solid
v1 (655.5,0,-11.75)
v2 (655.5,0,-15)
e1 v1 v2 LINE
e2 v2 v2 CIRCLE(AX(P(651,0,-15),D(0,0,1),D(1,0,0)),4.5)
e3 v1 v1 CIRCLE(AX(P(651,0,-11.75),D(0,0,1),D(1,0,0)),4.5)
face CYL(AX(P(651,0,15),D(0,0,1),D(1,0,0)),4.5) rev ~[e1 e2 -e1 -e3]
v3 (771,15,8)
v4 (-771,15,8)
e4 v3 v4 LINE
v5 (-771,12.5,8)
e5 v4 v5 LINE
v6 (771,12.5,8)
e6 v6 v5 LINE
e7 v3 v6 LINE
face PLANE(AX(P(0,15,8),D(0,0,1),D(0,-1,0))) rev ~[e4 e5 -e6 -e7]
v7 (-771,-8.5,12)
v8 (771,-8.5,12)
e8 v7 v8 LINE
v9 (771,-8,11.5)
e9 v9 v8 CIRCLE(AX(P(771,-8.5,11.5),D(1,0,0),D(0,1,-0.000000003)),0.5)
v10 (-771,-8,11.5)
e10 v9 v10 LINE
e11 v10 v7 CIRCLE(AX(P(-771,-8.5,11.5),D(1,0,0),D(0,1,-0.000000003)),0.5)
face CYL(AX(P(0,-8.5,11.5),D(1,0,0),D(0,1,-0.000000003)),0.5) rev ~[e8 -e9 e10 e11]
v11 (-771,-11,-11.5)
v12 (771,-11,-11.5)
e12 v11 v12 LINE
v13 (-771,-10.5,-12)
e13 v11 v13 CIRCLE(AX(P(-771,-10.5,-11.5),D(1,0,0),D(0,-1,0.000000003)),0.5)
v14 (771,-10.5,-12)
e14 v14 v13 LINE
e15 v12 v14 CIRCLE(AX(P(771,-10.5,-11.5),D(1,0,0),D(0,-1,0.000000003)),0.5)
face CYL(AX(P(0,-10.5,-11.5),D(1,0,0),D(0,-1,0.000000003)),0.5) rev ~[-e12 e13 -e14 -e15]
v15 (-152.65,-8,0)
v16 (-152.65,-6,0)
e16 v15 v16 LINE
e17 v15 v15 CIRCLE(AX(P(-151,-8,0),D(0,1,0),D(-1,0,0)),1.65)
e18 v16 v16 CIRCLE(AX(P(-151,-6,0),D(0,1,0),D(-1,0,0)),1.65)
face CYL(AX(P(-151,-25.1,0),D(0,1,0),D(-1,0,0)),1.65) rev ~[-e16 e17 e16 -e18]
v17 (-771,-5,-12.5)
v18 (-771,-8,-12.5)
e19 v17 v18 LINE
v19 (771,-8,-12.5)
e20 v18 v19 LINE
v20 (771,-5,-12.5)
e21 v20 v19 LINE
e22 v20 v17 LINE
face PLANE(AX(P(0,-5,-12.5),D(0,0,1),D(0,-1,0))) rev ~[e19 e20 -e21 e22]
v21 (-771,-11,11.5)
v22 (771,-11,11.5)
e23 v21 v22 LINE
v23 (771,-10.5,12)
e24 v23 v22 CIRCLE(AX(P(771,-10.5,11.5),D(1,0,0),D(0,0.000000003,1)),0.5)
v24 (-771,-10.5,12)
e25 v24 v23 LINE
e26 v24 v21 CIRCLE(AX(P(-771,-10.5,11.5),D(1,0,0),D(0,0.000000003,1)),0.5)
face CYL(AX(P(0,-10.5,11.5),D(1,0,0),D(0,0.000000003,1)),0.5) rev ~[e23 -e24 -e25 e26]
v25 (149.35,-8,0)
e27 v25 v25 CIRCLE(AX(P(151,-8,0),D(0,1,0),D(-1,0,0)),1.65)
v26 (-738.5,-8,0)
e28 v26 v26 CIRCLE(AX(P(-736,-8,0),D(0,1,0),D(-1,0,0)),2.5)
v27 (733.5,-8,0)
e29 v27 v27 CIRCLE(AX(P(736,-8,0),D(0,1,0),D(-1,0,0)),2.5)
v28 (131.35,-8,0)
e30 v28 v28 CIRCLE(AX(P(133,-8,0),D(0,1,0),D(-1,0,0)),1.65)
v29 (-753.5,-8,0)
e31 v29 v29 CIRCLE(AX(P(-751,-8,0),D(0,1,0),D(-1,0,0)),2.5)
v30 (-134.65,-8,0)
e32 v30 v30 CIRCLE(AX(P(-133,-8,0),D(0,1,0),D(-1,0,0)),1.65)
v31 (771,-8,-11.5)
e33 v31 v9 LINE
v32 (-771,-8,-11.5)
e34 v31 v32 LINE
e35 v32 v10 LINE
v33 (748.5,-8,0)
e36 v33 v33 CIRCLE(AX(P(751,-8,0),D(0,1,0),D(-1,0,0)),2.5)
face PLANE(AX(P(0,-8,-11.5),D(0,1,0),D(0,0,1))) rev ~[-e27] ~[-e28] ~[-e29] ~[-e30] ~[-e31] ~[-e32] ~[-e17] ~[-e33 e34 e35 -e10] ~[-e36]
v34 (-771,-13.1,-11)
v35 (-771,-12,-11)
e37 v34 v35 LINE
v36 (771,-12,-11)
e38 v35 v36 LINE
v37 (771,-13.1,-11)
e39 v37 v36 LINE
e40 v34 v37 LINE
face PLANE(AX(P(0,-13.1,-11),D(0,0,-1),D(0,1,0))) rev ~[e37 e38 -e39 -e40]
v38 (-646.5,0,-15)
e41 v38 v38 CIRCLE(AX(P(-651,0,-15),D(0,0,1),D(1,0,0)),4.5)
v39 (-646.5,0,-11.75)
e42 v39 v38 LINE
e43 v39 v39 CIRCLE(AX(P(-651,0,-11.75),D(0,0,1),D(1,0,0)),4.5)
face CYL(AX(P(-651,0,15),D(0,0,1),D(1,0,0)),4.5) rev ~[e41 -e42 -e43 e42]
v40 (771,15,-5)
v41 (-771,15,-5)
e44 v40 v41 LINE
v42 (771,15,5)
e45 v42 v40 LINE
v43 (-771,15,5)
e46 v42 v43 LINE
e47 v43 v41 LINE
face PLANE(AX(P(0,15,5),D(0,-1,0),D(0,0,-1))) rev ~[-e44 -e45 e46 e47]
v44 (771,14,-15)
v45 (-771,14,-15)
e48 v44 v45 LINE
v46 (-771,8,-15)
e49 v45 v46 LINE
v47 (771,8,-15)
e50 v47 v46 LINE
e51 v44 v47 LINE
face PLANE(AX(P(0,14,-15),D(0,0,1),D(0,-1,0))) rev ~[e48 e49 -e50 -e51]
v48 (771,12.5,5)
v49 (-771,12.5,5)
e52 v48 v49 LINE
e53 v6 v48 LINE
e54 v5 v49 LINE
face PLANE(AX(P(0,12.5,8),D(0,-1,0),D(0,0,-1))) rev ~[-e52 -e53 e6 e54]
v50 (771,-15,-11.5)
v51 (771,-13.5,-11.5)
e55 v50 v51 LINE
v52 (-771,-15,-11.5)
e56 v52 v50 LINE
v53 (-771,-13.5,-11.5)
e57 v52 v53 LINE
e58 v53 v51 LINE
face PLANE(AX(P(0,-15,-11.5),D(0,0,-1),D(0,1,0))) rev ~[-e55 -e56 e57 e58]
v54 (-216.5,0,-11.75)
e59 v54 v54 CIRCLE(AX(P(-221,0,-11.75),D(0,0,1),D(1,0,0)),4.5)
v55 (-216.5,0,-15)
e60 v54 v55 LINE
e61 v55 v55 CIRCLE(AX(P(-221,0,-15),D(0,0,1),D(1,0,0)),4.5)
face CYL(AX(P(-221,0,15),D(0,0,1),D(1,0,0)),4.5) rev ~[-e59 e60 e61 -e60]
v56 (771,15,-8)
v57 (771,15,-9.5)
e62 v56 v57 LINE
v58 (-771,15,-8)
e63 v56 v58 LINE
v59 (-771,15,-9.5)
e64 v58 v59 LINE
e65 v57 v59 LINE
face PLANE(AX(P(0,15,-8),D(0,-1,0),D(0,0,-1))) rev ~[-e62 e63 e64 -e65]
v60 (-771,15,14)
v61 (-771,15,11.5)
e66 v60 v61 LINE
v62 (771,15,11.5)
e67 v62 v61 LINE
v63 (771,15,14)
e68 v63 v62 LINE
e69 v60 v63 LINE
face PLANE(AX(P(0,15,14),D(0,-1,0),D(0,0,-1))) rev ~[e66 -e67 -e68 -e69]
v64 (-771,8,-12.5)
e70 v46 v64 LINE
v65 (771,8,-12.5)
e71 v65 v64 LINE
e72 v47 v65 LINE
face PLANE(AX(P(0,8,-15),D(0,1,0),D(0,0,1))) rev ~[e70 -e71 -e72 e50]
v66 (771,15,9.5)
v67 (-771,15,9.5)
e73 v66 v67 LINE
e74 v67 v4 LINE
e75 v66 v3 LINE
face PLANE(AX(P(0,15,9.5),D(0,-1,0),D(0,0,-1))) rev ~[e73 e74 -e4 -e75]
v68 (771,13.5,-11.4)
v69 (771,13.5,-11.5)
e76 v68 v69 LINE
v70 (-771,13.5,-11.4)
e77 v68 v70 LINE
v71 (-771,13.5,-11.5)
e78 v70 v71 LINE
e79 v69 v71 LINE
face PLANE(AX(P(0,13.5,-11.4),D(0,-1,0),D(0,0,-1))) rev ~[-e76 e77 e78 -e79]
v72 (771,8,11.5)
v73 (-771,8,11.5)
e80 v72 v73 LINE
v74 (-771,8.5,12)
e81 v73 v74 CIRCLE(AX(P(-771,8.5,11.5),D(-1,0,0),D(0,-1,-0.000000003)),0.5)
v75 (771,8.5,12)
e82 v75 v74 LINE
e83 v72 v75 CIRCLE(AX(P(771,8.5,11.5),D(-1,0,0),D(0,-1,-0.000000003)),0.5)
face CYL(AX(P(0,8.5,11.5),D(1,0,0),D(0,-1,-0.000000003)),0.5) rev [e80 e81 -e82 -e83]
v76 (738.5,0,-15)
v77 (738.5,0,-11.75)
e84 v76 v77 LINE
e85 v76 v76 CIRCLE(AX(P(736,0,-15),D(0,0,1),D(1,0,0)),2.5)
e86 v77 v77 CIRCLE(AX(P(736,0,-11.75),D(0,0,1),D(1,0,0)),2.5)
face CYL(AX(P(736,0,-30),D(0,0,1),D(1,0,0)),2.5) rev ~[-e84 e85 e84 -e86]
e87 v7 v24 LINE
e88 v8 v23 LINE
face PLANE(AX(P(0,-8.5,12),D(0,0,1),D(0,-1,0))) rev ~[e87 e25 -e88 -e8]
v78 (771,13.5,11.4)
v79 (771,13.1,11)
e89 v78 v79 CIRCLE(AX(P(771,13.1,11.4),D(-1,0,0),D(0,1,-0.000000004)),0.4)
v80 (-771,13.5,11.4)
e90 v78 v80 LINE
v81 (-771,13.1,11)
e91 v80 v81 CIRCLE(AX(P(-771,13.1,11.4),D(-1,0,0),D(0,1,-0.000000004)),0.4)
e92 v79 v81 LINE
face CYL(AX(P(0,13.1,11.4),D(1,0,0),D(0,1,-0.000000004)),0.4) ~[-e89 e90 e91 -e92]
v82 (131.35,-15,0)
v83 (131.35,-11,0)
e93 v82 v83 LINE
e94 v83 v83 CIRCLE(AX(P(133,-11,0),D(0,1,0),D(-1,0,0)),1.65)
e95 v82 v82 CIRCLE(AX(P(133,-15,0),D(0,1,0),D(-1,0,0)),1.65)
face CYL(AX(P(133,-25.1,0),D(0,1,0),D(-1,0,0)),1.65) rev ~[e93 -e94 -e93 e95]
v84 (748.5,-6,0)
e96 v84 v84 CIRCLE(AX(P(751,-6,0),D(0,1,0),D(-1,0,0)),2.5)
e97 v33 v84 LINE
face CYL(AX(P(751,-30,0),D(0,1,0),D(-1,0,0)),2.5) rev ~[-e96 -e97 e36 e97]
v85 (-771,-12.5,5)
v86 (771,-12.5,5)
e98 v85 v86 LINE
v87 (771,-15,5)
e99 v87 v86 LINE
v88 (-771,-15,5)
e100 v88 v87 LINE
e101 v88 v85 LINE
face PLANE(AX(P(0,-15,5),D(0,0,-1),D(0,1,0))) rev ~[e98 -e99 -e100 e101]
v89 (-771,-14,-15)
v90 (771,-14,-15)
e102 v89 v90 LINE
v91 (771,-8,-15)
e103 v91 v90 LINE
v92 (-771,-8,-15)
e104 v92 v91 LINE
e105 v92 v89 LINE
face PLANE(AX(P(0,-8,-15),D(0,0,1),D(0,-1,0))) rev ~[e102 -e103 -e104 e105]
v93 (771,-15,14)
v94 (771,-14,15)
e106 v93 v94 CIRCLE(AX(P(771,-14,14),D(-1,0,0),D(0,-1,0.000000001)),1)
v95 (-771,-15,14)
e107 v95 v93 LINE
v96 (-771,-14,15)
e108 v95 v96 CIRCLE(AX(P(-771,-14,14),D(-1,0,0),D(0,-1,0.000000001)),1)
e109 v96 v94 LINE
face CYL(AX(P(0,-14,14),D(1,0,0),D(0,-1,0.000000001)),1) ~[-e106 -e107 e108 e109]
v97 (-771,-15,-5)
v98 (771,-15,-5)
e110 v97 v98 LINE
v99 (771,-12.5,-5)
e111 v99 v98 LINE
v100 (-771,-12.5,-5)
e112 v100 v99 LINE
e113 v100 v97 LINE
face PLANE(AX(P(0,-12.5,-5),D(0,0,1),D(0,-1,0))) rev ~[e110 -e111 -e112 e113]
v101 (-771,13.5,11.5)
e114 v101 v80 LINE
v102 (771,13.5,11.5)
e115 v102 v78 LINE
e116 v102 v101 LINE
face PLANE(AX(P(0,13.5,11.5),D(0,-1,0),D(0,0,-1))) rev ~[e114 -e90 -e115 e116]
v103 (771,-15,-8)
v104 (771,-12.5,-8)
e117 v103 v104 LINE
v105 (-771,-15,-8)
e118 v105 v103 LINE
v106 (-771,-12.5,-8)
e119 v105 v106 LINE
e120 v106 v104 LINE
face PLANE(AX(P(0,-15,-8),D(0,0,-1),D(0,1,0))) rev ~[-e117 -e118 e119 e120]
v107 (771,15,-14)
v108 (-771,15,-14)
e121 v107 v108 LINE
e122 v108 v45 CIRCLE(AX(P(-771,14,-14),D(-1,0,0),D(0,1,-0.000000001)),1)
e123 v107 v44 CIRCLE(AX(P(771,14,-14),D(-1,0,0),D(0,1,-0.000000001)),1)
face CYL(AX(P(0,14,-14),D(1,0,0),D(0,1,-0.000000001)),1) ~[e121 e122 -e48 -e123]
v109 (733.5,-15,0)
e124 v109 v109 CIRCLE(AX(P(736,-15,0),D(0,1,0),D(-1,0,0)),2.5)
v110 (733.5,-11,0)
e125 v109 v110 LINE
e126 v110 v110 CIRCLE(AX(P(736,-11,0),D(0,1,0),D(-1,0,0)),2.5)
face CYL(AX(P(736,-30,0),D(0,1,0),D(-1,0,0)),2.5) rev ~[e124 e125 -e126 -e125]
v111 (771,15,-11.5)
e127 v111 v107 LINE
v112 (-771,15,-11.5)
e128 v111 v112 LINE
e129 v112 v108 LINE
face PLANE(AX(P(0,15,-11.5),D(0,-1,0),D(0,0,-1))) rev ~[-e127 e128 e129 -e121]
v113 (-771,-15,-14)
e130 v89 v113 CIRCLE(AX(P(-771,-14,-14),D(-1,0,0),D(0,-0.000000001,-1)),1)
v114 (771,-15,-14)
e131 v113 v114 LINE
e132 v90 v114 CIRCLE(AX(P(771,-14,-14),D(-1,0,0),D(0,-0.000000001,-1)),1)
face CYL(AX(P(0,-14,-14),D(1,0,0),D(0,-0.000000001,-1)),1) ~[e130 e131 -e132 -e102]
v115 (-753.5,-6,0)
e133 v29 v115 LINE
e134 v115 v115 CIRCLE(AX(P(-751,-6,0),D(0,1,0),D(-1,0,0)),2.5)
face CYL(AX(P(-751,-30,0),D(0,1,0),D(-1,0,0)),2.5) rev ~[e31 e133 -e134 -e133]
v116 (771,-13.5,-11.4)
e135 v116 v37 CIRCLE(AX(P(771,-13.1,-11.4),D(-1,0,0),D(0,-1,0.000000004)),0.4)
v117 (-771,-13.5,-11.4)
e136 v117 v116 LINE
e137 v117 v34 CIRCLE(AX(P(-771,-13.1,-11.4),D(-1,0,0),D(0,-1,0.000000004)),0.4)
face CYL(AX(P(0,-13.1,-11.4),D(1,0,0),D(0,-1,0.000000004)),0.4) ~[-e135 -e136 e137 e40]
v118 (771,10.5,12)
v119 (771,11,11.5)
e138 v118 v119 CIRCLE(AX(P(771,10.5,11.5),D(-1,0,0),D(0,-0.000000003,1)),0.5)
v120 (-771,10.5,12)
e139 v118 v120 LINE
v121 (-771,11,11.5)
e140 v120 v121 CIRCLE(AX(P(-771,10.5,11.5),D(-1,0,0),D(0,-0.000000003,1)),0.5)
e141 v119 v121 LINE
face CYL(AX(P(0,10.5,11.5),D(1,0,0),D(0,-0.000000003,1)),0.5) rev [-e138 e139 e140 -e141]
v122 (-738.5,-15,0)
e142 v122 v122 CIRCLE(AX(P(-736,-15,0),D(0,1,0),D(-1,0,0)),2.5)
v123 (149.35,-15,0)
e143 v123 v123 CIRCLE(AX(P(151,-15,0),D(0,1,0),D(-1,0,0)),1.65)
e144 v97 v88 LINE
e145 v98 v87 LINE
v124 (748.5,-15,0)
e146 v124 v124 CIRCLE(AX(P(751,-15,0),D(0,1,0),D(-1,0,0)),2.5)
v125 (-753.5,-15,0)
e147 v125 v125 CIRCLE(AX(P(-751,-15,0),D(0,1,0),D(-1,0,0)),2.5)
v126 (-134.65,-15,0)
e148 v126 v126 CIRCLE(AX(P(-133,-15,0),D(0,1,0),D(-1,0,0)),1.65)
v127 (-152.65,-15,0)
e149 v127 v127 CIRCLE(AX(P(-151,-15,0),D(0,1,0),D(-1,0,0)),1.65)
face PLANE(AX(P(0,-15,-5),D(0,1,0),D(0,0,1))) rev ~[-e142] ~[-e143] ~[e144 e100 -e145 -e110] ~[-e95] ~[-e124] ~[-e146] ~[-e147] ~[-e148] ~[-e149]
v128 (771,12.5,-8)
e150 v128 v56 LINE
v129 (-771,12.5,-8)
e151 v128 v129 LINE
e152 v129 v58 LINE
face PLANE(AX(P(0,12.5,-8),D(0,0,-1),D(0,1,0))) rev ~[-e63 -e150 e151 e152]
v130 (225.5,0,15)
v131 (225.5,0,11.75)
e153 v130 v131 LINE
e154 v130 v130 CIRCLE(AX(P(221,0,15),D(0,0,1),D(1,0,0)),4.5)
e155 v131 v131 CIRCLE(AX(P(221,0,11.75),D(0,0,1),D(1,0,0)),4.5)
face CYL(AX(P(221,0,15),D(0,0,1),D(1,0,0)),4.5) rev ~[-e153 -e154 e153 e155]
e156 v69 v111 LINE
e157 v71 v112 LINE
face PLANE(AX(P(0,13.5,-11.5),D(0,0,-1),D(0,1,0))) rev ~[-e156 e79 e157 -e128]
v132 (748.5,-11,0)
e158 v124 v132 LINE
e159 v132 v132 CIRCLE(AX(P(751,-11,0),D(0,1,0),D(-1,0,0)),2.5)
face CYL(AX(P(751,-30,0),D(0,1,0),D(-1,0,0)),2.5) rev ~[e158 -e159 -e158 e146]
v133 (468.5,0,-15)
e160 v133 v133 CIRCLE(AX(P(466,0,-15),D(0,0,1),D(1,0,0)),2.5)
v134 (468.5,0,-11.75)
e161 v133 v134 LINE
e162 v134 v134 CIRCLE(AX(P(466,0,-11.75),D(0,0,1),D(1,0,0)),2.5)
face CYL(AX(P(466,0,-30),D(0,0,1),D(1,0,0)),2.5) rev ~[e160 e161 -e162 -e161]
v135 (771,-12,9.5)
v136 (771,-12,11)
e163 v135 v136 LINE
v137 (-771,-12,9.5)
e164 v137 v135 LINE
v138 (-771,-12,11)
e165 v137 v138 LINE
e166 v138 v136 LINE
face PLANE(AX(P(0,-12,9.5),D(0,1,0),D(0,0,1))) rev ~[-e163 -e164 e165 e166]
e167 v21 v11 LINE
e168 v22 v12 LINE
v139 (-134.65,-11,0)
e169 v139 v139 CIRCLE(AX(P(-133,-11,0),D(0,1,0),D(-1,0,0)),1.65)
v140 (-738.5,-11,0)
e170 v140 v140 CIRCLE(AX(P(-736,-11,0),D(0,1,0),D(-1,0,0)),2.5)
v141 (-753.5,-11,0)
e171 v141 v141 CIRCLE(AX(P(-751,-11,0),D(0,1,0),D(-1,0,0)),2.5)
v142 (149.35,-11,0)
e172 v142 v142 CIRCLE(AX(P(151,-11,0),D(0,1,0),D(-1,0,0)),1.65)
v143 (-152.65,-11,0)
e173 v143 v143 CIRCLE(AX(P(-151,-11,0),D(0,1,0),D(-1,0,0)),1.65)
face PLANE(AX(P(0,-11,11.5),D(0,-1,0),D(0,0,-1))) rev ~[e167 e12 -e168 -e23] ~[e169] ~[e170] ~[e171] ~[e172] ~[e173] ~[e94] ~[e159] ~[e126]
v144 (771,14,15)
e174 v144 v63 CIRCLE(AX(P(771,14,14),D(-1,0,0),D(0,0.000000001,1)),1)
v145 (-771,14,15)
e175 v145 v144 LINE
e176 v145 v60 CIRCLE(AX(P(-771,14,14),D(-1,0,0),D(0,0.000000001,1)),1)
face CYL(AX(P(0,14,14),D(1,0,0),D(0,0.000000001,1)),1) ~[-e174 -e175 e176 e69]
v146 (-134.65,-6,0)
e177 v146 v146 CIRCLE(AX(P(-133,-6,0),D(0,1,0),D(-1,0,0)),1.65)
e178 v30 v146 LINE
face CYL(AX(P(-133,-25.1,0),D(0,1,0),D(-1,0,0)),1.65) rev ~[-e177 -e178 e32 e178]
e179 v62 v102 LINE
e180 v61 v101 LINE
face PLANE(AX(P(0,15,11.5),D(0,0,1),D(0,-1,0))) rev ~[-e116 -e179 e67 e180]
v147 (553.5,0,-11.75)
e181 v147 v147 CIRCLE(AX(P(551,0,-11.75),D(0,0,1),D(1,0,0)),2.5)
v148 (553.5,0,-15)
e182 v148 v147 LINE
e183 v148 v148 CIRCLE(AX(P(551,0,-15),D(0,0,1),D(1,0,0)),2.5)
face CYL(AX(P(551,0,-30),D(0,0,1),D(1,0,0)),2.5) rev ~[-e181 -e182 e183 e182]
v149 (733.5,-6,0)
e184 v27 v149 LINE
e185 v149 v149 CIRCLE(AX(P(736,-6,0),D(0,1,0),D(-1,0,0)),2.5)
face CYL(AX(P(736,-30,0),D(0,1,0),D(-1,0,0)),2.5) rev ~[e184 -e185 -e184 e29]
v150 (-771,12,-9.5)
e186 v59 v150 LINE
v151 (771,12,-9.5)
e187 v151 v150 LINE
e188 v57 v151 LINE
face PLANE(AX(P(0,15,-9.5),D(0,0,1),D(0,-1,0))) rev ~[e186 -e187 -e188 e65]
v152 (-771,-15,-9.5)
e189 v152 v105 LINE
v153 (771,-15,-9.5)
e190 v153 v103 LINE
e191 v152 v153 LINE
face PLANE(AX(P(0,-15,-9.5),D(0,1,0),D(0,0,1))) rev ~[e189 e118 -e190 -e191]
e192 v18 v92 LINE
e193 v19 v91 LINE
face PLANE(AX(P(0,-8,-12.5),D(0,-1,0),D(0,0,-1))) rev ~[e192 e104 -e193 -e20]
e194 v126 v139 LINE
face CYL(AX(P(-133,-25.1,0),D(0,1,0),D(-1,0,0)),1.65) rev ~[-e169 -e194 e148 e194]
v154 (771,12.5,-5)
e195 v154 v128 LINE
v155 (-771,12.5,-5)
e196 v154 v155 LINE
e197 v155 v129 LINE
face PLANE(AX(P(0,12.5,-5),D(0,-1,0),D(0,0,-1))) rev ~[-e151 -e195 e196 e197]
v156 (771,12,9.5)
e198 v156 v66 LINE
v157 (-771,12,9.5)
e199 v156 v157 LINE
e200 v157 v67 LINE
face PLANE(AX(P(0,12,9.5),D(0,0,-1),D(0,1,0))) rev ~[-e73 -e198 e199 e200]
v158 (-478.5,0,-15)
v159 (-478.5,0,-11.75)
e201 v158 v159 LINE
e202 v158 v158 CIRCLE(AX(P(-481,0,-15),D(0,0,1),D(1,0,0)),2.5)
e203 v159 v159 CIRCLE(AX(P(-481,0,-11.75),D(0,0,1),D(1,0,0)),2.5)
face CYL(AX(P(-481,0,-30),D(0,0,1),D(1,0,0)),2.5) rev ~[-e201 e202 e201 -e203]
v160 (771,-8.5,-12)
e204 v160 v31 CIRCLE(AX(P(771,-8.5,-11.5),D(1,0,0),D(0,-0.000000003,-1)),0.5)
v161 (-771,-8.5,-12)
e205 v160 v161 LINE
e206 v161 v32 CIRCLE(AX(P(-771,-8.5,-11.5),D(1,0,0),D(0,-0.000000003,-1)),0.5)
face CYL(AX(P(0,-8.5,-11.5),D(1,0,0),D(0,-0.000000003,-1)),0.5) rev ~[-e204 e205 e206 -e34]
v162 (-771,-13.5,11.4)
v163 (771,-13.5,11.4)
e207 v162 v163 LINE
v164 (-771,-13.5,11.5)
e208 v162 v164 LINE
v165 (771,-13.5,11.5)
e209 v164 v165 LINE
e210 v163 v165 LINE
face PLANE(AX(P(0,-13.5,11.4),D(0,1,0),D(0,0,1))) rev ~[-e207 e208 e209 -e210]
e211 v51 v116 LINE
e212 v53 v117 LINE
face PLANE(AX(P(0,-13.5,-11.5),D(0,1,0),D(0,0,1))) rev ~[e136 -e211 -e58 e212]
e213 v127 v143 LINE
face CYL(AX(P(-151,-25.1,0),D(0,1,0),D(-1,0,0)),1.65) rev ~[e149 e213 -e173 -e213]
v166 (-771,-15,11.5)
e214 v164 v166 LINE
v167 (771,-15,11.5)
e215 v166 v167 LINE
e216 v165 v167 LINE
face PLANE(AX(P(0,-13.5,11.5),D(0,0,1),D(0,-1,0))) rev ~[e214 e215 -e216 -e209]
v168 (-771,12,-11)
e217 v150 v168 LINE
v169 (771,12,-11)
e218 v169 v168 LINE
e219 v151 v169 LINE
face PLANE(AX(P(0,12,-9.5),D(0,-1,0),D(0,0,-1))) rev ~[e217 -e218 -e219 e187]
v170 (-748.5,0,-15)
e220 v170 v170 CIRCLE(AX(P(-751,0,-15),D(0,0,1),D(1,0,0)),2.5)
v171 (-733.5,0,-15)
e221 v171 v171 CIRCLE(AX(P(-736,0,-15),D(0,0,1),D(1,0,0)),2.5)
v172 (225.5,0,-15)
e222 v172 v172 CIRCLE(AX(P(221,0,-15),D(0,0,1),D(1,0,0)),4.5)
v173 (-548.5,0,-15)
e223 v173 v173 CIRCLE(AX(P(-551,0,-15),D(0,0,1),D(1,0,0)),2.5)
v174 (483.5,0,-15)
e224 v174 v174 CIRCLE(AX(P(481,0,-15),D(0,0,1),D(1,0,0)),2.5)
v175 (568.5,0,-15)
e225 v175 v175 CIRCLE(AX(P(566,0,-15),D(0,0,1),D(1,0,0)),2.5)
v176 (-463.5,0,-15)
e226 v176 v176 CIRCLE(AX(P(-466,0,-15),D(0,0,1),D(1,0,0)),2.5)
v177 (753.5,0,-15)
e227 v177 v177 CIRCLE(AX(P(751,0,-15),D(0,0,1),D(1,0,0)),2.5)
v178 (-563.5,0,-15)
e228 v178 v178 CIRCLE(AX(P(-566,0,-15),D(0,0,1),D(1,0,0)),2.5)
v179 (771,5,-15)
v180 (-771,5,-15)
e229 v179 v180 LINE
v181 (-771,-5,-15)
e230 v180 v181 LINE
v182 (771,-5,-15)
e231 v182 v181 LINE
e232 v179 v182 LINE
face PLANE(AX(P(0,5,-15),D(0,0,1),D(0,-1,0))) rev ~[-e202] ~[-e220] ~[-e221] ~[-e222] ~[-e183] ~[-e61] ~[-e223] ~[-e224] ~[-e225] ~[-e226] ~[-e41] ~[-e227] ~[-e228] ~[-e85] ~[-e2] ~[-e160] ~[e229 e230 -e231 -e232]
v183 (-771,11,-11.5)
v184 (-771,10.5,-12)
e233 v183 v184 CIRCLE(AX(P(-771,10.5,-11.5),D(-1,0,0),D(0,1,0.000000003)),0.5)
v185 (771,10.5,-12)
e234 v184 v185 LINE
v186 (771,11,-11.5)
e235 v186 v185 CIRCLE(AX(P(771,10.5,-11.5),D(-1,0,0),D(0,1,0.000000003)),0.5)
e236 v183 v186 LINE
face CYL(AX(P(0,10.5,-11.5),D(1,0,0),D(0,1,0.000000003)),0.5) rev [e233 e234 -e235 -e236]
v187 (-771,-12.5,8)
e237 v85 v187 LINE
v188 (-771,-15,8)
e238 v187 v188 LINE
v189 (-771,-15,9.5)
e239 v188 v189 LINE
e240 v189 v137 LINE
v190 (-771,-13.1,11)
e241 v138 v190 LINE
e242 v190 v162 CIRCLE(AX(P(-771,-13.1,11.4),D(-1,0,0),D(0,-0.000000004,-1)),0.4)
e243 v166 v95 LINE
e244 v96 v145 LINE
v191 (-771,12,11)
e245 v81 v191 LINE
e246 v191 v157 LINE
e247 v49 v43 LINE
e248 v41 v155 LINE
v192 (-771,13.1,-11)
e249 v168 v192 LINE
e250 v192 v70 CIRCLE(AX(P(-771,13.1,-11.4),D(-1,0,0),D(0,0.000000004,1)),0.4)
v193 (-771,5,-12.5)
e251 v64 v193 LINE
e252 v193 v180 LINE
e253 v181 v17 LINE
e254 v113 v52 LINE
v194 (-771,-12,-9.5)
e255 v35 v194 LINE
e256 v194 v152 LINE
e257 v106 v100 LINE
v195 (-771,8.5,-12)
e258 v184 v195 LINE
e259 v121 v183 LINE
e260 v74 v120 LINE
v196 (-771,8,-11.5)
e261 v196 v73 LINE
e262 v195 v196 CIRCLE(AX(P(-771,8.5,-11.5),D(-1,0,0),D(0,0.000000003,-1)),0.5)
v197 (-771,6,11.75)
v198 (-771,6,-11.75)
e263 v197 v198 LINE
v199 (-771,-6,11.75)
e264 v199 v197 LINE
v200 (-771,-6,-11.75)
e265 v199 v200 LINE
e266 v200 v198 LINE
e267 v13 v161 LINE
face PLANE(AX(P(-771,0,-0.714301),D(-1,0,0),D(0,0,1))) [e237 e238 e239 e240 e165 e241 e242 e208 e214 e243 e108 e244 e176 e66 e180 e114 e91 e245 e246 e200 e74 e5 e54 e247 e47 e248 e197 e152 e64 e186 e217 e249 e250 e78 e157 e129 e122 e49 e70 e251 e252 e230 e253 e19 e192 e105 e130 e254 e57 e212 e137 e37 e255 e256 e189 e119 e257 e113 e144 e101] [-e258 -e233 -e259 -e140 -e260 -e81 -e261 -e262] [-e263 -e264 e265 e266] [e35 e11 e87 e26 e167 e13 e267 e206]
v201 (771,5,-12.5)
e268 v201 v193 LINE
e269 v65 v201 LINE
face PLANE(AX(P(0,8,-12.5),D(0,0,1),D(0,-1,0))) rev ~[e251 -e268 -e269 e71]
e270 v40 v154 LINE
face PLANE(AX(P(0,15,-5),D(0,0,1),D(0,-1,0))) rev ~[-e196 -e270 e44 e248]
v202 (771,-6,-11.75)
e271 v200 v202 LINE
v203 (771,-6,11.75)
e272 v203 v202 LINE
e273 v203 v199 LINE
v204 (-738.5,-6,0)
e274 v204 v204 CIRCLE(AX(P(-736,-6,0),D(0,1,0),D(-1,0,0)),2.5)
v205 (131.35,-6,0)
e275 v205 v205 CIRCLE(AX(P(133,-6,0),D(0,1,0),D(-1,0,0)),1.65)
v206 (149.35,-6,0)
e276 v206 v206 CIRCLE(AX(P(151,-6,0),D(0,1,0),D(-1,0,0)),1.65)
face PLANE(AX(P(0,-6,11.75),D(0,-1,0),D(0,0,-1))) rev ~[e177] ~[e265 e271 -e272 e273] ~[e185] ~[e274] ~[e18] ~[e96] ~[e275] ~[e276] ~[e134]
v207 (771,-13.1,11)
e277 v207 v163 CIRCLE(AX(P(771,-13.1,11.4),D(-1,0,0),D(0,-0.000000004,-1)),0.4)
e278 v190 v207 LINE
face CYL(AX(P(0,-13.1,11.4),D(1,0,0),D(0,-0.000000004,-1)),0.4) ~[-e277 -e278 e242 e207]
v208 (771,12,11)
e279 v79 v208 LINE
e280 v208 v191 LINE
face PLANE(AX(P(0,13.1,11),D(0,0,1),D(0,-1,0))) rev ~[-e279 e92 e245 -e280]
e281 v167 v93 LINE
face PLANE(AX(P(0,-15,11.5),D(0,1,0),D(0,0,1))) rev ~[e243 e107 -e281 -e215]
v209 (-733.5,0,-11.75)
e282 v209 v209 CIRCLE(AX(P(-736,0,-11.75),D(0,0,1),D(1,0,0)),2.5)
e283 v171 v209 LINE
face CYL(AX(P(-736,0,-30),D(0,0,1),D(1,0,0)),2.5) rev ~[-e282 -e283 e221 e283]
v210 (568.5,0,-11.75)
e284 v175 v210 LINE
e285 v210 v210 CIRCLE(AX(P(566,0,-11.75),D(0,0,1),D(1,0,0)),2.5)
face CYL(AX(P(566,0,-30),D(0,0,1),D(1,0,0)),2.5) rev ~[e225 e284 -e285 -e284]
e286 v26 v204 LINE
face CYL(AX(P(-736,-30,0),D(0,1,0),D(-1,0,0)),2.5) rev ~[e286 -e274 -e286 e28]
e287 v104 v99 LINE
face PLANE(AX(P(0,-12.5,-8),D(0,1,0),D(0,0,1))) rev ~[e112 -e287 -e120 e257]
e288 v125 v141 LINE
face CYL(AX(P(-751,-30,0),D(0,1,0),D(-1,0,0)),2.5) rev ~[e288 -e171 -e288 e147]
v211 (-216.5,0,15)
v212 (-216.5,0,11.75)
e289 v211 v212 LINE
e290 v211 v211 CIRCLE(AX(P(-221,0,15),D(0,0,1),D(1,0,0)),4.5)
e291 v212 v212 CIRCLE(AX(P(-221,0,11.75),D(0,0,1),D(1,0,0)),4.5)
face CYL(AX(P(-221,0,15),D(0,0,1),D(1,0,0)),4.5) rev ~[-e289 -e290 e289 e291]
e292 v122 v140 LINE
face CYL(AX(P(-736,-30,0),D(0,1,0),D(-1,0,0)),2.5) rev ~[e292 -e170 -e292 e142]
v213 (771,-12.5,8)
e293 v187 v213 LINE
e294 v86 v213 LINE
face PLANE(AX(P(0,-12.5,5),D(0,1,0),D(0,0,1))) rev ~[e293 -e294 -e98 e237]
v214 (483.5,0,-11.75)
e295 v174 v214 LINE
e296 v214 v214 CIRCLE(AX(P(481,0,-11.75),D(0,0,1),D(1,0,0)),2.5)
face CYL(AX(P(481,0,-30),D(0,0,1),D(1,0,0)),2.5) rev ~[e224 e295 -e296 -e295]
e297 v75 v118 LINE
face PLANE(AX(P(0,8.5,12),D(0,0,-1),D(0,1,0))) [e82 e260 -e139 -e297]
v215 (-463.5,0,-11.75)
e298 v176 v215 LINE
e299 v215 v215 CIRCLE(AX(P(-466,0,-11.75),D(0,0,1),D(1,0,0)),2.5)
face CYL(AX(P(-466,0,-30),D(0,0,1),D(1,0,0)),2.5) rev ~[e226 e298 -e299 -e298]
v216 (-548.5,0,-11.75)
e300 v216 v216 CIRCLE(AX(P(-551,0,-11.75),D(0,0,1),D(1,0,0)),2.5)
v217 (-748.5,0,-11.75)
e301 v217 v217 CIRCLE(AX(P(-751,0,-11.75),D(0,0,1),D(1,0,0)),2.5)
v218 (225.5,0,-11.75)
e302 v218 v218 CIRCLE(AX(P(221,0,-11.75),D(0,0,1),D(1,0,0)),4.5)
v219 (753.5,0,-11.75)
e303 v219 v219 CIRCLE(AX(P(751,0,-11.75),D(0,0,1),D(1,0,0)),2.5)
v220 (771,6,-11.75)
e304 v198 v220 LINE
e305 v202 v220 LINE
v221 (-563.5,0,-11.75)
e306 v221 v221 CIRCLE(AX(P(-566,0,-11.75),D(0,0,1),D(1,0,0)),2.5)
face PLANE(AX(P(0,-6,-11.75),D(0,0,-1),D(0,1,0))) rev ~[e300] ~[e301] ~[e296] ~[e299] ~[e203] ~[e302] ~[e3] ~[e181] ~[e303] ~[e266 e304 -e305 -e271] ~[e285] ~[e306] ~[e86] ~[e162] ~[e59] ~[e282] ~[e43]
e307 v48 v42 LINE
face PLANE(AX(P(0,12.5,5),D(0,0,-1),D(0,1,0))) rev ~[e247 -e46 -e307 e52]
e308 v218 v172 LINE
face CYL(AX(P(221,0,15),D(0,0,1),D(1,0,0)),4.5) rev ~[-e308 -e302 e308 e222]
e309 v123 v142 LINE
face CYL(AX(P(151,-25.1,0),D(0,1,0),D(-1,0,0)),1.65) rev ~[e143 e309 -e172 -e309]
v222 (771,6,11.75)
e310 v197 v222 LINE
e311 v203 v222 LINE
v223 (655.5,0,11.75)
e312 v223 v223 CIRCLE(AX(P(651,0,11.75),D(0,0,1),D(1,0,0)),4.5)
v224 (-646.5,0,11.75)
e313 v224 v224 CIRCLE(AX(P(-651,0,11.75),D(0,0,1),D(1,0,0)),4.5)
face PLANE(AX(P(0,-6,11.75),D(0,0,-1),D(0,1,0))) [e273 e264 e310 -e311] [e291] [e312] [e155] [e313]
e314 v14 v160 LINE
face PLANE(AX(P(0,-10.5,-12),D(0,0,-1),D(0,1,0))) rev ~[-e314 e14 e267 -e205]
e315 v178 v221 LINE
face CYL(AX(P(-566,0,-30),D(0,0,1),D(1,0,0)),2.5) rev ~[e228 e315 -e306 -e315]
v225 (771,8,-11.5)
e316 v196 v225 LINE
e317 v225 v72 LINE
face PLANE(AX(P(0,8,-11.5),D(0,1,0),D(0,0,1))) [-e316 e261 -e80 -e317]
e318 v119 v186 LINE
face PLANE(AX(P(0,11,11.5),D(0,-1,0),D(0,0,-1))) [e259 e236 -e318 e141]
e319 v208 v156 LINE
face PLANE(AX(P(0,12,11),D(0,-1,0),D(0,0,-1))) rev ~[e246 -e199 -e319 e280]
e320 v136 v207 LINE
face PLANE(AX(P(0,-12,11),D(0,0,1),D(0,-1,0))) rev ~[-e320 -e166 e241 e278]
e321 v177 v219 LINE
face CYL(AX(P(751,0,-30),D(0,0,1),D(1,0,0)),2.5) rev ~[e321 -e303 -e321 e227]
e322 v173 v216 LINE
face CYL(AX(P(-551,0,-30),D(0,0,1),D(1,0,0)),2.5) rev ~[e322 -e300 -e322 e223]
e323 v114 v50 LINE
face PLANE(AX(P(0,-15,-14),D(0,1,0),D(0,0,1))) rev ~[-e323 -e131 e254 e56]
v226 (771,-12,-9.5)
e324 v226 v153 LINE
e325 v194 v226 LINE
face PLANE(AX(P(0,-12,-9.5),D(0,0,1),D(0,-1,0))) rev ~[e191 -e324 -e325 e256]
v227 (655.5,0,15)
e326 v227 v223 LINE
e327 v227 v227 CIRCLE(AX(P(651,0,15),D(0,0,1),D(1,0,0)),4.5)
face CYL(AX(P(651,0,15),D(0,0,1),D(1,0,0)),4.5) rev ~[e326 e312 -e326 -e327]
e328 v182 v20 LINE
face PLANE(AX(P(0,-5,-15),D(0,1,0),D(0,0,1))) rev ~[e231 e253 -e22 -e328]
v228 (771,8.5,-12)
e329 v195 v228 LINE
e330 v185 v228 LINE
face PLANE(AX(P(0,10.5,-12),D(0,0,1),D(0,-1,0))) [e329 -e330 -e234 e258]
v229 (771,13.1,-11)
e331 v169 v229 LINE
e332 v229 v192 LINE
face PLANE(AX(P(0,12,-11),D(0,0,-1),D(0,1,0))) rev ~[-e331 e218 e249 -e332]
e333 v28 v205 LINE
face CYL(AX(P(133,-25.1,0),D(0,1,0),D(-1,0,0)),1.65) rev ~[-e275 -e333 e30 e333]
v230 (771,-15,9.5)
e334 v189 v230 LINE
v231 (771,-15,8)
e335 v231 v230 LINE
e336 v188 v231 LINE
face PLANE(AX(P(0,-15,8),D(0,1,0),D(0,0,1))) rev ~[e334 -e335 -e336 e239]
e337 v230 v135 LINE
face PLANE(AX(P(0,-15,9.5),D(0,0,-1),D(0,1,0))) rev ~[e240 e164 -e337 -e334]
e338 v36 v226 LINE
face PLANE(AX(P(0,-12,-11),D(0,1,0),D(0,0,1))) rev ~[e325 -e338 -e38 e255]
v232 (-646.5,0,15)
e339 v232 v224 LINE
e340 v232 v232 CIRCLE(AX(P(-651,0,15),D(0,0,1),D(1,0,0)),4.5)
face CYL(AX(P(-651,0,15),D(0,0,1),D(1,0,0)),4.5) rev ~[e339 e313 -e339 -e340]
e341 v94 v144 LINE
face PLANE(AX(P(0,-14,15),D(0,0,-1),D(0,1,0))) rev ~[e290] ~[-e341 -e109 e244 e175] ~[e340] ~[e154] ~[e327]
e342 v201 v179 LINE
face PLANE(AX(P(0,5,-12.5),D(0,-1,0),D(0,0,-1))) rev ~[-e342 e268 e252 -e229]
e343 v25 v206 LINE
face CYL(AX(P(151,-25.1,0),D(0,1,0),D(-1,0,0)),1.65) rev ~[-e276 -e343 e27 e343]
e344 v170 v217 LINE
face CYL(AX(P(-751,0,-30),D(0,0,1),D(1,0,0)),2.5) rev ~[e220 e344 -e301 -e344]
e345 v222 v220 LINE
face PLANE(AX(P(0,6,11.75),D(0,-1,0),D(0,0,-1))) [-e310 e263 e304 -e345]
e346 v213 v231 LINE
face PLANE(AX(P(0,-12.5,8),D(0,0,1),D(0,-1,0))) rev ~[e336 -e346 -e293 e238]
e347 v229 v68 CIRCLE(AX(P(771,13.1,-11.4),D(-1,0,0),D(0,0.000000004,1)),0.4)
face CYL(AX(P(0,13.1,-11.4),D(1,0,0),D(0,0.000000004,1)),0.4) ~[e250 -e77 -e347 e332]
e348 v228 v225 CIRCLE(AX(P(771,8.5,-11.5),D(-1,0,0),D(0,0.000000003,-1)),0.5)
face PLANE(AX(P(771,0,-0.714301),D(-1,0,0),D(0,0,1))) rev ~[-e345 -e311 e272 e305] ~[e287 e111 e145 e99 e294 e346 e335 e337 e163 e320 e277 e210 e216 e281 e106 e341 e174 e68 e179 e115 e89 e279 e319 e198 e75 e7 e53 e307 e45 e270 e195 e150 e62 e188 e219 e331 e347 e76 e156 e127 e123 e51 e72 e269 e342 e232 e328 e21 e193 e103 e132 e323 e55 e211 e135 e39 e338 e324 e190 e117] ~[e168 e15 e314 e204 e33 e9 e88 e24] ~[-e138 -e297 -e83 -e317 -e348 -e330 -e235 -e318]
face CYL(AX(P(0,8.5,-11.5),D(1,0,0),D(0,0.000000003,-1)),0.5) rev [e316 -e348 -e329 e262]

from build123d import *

# Parameters (mm, degrees)
SKETCH_1_W             = 23.5
SKETCH_1_H             = 12
EXTRUDE_1_DEPTH        = 771
HOLE_WIZARD_M6_1_D     = 5
HOLE_WIZARD_M6_1_DEPTH = 15
HOLE_WIZARD_M6_1_TIP   = 1.502151548
HOLE_WIZARD_M6_2_D     = 5
HOLE_WIZARD_M6_2_DEPTH = 15
HOLE_WIZARD_M6_2_TIP   = 1.502151548
SKETCH_7_R             = 4.5
CUT_EXTRUDE_1_DEPTH    = 772.729227126
HOLE_WIZARD_M4_1_D     = 3.3
HOLE_WIZARD_M4_1_DEPTH = 10.1
HOLE_WIZARD_M4_1_TIP   = 0.991420021


with BuildPart() as part:
    # 草图1 → 凸台-拉伸1 (new, symmetric)
    with BuildSketch(Plane(origin=(0, 0, 0), x_dir=(0, 0, -1), z_dir=(1, 0, 0))):
        with BuildLine():
            Line((-14, 15), (-11.5, 15))
            Line((-11.5, 15), (-11.5, 13.5))
            Line((-11.5, 13.5), (-11.4, 13.5))
            ThreePointArc((-11.4, 13.5), (-11.117157288, 13.382842712), (-11, 13.1))
            Line((-11, 13.1), (-11, 12))
            Line((-11, 12), (-9.5, 12))
            Line((-9.5, 12), (-9.5, 15))
            Line((-9.5, 15), (-8, 15))
            Line((-8, 15), (-8, 12.5))
            Line((-8, 12.5), (-5, 12.5))
            Line((-5, 12.5), (-5, 15))
            Line((-5, 15), (5, 15))
            Line((5, 15), (5, 12.5))
            Line((5, 12.5), (8, 12.5))
            Line((8, 12.5), (8, 15))
            Line((8, 15), (9.5, 15))
            Line((9.5, 15), (9.5, 12))
            Line((9.5, 12), (11, 12))
            Line((11, 12), (11, 13.1))
            ThreePointArc((11, 13.1), (11.117157288, 13.382842712), (11.4, 13.5))
            Line((11.4, 13.5), (11.5, 13.5))
            Line((11.5, 13.5), (11.5, 15))
            Line((11.5, 15), (14, 15))
            ThreePointArc((14, 15), (14.707106781, 14.707106781), (15, 14))
            Line((15, 14), (15, 8))
            Line((15, 8), (12.5, 8))
            Line((12.5, 8), (12.5, 5))
            Line((12.5, 5), (15, 5))
            Line((15, 5), (15, -5))
            Line((15, -5), (12.5, -5))
            Line((12.5, -5), (12.5, -8))
            Line((12.5, -8), (15, -8))
            Line((15, -8), (15, -14))
            ThreePointArc((15, -14), (14.707106781, -14.707106781), (14, -15))
            Line((14, -15), (11.5, -15))
            Line((11.5, -15), (11.5, -13.5))
            Line((11.5, -13.5), (11.4, -13.5))
            ThreePointArc((11.4, -13.5), (11.117157288, -13.382842712), (11, -13.1))
            Line((11, -13.1), (11, -12))
            Line((11, -12), (9.5, -12))
            Line((9.5, -12), (9.5, -15))
            Line((9.5, -15), (8, -15))
            Line((8, -15), (8, -12.5))
            Line((8, -12.5), (5, -12.5))
            Line((5, -12.5), (5, -15))
            Line((5, -15), (-5, -15))
            Line((-5, -15), (-5, -12.5))
            Line((-5, -12.5), (-8, -12.5))
            Line((-8, -12.5), (-8, -15))
            Line((-8, -15), (-9.5, -15))
            Line((-9.5, -15), (-9.5, -12))
            Line((-9.5, -12), (-11, -12))
            Line((-11, -12), (-11, -13.1))
            ThreePointArc((-11, -13.1), (-11.117157288, -13.382842712), (-11.4, -13.5))
            Line((-11.4, -13.5), (-11.5, -13.5))
            Line((-11.5, -13.5), (-11.5, -15))
            Line((-11.5, -15), (-14, -15))
            ThreePointArc((-14, -15), (-14.707106781, -14.707106781), (-15, -14))
            Line((-15, -14), (-15, 14))
            ThreePointArc((-15, 14), (-14.707106781, 14.707106781), (-14, 15))
        make_face()
        with BuildLine():
            Line((12, -10.5), (12, -8.5))
            ThreePointArc((12, -8.5), (11.853553391, -8.146446609), (11.5, -8))
            Line((11.5, -8), (-11.5, -8))
            ThreePointArc((-11.5, -8), (-11.853553391, -8.146446609), (-12, -8.5))
            Line((-12, -8.5), (-12, -10.5))
            ThreePointArc((-12, -10.5), (-11.853553391, -10.853553391), (-11.5, -11))
            Line((-11.5, -11), (11.5, -11))
            ThreePointArc((11.5, -11), (11.853553391, -10.853553391), (12, -10.5))
        make_face(mode=Mode.SUBTRACT)
        with BuildLine():
            Line((-11.5, 11), (11.5, 11))
            ThreePointArc((11.5, 11), (11.853553391, 10.853553391), (12, 10.5))
            Line((12, 10.5), (12, 8.5))
            ThreePointArc((12, 8.5), (11.853553391, 8.146446609), (11.5, 8))
            Line((11.5, 8), (-11.5, 8))
            ThreePointArc((-11.5, 8), (-11.853553391, 8.146446609), (-12, 8.5))
            Line((-12, 8.5), (-12, 10.5))
            ThreePointArc((-12, 10.5), (-11.853553391, 10.853553391), (-11.5, 11))
        make_face(mode=Mode.SUBTRACT)
        Rectangle(SKETCH_1_W, SKETCH_1_H, mode=Mode.SUBTRACT)
    extrude(amount=EXTRUDE_1_DEPTH, both=True)

    # M6 螺纹孔1
    with Locations(Plane(origin=(0, 0, -15), x_dir=(-1, 0, 0), z_dir=(0, 0, -1))):
        with Locations((751, 0), (736, 0), (566, 0), (551, 0), (481, 0), (466, 0), (-466, 0), (-481, 0), (-551, 0), (-566, 0), (-736, 0), (-751, 0)):
            Hole(HOLE_WIZARD_M6_1_D / 2, depth=HOLE_WIZARD_M6_1_DEPTH)
            with Locations((0, 0, -(HOLE_WIZARD_M6_1_DEPTH + HOLE_WIZARD_M6_1_TIP / 2))):  # 118° drill point
                Cone(0, HOLE_WIZARD_M6_1_D / 2, HOLE_WIZARD_M6_1_TIP, mode=Mode.SUBTRACT)

    # M6 螺纹孔2
    with Locations(Plane.XZ.offset(15)):
        with Locations((751, 0), (736, 0), (-736, 0), (-751, 0)):
            Hole(HOLE_WIZARD_M6_2_D / 2, depth=HOLE_WIZARD_M6_2_DEPTH)
            with Locations((0, 0, -(HOLE_WIZARD_M6_2_DEPTH + HOLE_WIZARD_M6_2_TIP / 2))):  # 118° drill point
                Cone(0, HOLE_WIZARD_M6_2_D / 2, HOLE_WIZARD_M6_2_TIP, mode=Mode.SUBTRACT)

    # 草图7 → 切除-拉伸1 (cut, through all)
    with BuildSketch(Plane.XY.offset(15)):
        with Locations((-651, 0)):
            Circle(SKETCH_7_R)
        with Locations((-221, 0)):
            Circle(SKETCH_7_R)
        with Locations((651, 0)):
            Circle(SKETCH_7_R)
        with Locations((221, 0)):
            Circle(SKETCH_7_R)
    extrude(amount=-CUT_EXTRUDE_1_DEPTH, mode=Mode.SUBTRACT)

    # M4 螺纹孔1
    with Locations(Plane.XZ.offset(15)):
        with Locations((-151, 0), (-133, 0), (133, 0), (151, 0)):
            Hole(HOLE_WIZARD_M4_1_D / 2, depth=HOLE_WIZARD_M4_1_DEPTH)
            with Locations((0, 0, -(HOLE_WIZARD_M4_1_DEPTH + HOLE_WIZARD_M4_1_TIP / 2))):  # 118° drill point
                Cone(0, HOLE_WIZARD_M4_1_D / 2, HOLE_WIZARD_M4_1_TIP, mode=Mode.SUBTRACT)


solid = part.part
